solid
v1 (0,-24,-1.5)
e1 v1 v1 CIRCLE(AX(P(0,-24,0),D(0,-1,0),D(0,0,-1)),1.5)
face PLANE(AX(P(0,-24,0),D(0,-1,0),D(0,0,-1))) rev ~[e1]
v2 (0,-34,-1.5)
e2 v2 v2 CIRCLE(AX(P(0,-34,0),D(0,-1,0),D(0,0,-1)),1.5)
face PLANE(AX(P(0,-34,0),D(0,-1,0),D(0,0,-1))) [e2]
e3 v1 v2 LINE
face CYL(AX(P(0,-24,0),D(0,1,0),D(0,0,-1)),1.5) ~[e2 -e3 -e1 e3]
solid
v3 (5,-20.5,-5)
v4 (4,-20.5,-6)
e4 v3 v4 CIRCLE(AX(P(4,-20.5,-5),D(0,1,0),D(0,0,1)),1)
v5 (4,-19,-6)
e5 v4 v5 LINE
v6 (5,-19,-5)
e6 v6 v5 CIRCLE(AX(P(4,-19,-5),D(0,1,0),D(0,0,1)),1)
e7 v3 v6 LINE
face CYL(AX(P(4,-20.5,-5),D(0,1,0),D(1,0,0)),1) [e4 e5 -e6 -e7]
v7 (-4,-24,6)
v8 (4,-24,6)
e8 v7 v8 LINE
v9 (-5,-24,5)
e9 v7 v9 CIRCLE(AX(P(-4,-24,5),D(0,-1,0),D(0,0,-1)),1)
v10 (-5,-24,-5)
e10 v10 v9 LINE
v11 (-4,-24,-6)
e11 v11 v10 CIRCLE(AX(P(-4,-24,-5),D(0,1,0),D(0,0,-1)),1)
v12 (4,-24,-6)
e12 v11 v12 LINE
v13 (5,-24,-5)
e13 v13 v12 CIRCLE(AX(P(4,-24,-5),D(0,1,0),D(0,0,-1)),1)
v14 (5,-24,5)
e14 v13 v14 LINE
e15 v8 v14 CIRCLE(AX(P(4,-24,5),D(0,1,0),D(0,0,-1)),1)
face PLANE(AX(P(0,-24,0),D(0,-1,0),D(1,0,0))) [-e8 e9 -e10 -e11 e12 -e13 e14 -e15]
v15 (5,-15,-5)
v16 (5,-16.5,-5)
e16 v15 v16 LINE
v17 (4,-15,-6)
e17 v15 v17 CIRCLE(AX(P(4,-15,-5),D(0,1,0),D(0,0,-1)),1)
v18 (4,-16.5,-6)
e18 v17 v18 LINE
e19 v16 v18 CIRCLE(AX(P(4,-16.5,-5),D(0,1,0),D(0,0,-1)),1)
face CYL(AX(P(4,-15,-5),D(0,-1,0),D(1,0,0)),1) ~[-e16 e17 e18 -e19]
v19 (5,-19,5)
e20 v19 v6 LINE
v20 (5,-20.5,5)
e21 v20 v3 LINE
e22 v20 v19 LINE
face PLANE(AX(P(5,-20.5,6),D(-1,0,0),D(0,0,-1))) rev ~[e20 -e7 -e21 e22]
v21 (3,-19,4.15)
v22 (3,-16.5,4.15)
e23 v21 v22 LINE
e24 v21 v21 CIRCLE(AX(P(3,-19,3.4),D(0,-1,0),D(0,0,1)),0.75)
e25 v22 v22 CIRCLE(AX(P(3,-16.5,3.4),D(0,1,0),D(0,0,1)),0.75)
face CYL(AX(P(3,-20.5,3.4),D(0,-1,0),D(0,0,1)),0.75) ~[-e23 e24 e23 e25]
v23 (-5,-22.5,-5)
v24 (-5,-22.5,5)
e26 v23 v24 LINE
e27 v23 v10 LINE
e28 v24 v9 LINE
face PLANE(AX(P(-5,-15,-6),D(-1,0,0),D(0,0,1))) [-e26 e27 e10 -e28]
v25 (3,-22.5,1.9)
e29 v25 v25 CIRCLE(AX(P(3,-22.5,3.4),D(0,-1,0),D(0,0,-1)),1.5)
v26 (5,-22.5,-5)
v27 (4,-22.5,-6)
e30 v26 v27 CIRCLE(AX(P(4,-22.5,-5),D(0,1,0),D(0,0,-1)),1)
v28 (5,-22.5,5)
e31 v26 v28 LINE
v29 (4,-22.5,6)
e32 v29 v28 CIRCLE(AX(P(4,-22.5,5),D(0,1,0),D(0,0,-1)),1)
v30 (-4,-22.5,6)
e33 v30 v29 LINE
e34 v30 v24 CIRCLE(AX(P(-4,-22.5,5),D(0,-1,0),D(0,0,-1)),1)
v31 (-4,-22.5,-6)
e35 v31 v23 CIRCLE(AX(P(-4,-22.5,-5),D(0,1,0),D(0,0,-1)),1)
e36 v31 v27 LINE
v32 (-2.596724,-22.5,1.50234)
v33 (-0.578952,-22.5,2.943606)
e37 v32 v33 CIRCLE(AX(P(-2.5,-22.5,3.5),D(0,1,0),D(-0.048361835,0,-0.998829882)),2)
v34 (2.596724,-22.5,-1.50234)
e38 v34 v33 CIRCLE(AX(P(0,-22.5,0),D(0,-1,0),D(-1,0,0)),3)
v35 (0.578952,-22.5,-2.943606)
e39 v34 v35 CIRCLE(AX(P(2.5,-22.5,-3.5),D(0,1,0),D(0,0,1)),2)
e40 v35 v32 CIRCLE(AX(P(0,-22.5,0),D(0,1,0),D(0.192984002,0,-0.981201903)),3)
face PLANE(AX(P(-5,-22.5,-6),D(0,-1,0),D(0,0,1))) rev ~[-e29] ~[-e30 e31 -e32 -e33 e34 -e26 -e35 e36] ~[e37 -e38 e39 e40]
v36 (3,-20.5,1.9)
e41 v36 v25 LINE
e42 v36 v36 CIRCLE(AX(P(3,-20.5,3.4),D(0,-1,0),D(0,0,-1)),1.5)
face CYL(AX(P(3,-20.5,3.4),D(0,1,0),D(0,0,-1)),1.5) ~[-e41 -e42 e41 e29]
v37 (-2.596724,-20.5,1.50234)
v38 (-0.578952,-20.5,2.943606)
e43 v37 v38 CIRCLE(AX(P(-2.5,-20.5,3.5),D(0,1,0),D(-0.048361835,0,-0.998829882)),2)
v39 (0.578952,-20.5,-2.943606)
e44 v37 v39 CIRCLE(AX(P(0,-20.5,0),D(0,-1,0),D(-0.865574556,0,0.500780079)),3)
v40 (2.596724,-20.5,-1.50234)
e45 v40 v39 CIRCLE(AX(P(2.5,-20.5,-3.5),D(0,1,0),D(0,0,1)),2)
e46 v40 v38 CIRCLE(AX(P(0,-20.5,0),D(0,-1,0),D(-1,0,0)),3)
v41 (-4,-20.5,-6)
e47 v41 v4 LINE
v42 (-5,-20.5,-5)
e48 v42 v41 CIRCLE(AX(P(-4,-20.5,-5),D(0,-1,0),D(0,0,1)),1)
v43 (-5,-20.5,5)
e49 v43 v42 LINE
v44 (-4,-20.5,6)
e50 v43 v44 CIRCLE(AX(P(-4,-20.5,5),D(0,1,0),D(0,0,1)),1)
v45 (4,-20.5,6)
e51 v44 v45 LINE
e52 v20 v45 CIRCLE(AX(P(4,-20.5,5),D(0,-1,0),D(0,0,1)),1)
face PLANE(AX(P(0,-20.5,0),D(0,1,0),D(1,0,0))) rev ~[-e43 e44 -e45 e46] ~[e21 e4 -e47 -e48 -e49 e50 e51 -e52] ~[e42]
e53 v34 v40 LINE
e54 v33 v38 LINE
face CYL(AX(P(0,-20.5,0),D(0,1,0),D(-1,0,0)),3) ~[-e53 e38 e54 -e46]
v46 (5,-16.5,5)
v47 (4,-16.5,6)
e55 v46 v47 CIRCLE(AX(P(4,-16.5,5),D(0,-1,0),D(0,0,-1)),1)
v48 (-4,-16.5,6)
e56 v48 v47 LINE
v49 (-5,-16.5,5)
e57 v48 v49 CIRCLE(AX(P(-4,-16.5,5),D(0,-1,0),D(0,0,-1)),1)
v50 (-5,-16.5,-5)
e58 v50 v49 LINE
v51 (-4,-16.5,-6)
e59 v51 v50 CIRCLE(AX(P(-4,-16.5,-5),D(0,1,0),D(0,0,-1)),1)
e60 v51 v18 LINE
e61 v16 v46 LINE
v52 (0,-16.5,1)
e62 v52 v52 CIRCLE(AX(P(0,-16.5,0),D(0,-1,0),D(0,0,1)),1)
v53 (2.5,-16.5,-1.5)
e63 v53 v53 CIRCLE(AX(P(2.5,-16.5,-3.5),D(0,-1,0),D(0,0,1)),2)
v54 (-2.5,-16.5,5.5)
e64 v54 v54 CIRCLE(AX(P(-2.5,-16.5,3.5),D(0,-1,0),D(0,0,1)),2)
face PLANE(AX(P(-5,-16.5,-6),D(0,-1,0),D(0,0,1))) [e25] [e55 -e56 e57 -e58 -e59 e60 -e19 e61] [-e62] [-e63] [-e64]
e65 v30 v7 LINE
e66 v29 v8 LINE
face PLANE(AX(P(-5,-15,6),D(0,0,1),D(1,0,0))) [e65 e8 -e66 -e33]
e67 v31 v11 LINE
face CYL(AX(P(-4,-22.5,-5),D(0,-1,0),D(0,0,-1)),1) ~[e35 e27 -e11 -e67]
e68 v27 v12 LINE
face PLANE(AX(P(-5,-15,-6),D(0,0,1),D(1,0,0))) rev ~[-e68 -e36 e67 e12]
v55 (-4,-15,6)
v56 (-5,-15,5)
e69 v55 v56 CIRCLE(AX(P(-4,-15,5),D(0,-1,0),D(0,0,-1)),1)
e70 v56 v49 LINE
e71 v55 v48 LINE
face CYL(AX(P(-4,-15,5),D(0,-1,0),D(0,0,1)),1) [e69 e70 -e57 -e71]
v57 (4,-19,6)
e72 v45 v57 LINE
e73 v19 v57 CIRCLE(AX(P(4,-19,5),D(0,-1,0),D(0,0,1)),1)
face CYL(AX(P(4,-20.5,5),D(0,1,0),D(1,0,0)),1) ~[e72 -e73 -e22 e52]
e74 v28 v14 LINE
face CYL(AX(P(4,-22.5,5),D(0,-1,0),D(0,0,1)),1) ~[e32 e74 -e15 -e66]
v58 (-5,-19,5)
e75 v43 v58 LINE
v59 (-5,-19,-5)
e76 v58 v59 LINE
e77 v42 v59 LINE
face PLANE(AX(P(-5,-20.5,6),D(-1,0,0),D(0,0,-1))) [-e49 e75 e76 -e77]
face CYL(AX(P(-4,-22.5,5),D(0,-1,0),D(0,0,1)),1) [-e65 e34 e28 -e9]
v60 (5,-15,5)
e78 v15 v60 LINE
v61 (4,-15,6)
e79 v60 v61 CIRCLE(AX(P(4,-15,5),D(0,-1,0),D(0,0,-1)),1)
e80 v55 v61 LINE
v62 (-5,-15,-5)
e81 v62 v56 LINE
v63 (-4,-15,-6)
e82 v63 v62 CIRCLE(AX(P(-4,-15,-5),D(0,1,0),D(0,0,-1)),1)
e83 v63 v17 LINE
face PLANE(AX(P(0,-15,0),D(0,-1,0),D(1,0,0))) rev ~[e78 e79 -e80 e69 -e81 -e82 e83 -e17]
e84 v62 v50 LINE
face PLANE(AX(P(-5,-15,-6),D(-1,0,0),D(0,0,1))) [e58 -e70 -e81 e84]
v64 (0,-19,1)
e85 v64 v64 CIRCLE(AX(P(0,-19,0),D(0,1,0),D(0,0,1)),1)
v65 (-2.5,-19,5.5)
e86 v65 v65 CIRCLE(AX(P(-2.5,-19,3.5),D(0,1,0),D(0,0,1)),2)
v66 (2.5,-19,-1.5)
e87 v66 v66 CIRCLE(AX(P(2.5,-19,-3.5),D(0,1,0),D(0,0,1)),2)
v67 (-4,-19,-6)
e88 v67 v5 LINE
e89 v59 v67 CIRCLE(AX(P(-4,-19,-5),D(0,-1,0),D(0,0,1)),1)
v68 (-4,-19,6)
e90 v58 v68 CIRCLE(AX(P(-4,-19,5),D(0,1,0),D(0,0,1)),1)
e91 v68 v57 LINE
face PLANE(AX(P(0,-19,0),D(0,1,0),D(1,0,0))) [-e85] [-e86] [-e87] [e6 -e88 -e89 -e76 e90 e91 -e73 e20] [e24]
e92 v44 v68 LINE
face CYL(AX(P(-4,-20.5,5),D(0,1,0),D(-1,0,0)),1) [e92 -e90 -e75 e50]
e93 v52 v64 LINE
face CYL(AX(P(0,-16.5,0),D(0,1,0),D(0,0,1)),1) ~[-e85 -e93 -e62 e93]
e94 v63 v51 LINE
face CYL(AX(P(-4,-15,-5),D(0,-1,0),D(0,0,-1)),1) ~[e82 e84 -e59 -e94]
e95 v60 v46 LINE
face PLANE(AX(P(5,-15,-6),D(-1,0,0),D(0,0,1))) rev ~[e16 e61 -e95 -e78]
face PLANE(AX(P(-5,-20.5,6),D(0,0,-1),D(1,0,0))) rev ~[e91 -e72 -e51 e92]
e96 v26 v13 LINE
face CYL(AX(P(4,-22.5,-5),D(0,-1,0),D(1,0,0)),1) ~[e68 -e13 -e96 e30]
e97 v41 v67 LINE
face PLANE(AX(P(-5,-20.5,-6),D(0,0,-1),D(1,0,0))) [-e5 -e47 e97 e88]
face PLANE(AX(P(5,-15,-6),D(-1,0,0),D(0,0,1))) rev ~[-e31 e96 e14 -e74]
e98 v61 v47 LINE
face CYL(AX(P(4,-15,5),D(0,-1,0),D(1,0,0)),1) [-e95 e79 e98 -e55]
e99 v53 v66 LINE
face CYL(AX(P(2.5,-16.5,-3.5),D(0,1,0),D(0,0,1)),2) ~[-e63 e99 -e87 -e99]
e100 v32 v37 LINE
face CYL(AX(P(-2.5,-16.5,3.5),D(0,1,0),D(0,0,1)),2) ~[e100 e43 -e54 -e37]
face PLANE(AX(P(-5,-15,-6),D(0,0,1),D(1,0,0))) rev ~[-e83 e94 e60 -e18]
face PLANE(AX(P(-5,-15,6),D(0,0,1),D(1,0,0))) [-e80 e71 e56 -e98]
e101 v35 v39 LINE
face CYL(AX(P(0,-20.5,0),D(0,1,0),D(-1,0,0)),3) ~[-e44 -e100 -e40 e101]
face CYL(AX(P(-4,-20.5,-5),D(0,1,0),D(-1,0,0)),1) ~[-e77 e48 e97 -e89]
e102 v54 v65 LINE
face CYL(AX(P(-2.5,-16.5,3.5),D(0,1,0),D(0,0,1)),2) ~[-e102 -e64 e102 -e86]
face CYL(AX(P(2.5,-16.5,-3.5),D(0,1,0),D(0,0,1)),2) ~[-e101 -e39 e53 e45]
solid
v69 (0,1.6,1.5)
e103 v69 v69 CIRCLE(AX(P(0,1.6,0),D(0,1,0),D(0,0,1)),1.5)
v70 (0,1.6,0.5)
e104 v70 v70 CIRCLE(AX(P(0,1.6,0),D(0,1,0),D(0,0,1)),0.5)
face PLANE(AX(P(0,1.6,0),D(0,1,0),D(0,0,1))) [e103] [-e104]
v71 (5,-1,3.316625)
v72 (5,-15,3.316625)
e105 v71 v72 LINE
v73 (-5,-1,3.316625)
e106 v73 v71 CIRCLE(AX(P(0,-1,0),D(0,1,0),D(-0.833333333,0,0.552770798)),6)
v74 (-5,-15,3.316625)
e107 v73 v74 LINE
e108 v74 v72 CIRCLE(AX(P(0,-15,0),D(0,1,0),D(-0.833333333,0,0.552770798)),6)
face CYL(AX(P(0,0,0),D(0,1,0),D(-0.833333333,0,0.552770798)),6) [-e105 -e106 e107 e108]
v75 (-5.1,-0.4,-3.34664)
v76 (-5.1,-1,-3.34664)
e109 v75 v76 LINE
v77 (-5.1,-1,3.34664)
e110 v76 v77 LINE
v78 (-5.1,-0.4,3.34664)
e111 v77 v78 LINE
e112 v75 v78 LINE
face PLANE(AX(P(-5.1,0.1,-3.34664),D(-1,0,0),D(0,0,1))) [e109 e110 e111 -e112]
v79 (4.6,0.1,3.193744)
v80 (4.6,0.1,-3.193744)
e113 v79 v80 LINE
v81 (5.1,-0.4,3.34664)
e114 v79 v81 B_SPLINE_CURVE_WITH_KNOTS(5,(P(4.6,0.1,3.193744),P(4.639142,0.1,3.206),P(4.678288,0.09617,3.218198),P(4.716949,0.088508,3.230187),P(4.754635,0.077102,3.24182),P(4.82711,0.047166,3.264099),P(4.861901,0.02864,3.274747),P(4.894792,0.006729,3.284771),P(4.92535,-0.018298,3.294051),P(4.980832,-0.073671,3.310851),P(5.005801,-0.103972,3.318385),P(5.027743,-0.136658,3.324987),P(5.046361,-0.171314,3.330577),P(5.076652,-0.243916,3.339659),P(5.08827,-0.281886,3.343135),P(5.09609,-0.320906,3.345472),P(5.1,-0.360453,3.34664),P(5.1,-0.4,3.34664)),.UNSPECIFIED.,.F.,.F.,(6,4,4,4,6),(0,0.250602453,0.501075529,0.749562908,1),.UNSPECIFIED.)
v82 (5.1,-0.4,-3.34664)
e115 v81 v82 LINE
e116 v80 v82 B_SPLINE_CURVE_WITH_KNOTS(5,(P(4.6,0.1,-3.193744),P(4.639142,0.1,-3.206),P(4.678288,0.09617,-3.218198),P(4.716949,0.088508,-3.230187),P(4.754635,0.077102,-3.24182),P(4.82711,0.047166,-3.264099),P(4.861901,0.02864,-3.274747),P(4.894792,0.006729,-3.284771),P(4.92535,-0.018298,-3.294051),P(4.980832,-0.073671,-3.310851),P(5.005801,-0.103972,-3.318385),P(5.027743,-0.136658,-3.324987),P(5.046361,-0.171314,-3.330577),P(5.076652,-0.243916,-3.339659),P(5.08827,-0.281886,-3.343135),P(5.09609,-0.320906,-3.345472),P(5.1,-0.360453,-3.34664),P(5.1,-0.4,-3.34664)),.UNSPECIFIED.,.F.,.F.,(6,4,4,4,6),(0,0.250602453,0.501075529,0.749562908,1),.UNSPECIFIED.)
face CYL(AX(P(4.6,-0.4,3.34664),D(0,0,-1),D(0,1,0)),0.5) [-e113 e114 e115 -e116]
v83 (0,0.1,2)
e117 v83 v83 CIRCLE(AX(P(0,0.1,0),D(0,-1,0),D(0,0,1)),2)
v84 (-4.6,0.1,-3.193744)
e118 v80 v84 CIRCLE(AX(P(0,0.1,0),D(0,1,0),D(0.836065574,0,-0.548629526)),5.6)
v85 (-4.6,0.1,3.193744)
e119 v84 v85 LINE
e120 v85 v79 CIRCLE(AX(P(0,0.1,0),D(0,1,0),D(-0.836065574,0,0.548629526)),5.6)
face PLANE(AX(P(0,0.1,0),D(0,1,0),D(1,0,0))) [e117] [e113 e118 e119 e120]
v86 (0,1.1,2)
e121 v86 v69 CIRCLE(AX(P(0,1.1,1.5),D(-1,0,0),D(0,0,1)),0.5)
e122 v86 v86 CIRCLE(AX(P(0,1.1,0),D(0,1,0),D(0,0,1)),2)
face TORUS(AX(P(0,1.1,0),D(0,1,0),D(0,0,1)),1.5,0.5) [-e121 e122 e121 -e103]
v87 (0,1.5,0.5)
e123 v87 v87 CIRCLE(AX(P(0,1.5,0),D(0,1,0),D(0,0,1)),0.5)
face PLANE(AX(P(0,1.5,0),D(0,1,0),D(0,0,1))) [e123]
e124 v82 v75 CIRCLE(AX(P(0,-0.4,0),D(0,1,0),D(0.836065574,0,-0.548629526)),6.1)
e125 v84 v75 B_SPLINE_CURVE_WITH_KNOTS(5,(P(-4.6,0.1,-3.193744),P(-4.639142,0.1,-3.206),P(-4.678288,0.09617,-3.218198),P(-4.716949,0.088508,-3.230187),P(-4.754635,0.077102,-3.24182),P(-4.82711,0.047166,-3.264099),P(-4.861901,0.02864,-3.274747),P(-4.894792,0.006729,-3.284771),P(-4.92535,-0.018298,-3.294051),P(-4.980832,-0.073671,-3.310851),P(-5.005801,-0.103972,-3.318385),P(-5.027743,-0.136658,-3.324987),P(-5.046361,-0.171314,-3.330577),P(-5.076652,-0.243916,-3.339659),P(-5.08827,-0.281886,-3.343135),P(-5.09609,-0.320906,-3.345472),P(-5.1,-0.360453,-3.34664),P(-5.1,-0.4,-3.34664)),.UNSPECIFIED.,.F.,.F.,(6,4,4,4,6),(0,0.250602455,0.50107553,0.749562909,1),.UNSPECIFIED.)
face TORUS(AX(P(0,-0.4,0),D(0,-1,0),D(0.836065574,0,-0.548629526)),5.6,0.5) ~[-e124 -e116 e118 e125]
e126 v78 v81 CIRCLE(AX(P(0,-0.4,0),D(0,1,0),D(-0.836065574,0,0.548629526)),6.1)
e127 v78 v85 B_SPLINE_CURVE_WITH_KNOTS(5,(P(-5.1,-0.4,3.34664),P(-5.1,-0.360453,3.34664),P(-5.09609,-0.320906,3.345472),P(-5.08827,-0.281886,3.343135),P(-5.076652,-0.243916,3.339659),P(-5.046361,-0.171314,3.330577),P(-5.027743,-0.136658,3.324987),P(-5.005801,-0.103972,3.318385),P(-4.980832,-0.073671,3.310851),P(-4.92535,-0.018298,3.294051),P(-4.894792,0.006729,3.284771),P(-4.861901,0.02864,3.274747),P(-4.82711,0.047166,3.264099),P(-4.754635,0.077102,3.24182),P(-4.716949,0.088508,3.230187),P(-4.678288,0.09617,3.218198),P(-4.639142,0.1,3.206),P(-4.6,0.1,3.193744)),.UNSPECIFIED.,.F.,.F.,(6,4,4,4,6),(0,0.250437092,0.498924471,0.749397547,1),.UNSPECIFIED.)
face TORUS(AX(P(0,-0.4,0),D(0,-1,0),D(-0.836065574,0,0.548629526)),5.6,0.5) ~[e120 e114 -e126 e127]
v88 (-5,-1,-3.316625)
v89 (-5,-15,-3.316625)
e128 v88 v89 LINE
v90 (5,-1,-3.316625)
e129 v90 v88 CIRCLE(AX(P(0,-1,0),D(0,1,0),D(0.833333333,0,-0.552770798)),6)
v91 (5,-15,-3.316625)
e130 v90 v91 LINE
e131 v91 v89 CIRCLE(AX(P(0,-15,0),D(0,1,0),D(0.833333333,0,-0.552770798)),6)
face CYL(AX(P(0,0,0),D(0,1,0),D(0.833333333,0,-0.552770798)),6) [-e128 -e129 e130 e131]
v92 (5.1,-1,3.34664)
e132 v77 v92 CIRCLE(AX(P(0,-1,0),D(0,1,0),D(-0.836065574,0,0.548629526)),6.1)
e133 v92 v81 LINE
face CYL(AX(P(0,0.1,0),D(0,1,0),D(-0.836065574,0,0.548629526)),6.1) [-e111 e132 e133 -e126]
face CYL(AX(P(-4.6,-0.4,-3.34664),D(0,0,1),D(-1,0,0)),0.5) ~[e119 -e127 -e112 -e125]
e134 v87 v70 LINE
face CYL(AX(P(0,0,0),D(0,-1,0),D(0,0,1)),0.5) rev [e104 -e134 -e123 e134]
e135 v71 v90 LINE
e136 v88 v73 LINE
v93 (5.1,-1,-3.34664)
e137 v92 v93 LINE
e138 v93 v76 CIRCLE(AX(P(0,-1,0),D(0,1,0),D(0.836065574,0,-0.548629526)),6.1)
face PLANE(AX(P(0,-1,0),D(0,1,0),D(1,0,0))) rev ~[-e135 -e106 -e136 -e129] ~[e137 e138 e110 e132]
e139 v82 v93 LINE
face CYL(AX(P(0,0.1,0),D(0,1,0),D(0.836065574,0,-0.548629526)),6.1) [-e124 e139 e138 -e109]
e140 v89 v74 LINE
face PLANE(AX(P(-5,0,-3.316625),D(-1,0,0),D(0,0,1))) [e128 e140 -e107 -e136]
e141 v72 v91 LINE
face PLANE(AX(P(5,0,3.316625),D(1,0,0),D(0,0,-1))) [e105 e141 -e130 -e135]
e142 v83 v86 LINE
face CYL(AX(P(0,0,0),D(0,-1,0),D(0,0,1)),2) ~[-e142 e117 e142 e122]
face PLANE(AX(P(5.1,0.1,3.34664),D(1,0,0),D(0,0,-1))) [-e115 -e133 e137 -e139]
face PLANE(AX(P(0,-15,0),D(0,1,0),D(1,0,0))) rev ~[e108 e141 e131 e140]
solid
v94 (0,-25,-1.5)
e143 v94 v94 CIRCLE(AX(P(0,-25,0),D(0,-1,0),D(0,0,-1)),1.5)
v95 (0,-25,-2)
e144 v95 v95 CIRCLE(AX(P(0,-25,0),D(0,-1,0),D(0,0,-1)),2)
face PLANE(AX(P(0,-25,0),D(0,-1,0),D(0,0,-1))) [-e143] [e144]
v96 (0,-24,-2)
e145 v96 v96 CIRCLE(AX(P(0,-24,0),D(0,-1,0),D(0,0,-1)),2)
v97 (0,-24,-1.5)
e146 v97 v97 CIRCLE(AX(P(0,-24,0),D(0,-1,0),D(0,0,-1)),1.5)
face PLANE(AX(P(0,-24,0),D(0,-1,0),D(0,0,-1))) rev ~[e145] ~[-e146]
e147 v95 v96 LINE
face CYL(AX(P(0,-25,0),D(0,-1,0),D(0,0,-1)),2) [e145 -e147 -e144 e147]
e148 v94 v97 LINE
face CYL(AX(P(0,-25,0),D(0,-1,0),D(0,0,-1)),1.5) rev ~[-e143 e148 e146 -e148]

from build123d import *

# Parameters (mm, degrees)
EXTRUDE_1_DEPTH     = 15
SKETCH_2_R          = 2
SKETCH_2_R_2        = 0.5
EXTRUDE_2_DEPTH     = 1.6
SKETCH_3_R          = 0.5
EXTRUDE_3_DEPTH     = 1.5
SKETCH_4_W          = 10
SKETCH_4_H          = 12
EXTRUDE_4_DEPTH     = 9
SKETCH_5_R          = 1.5
EXTRUDE_5_DEPTH     = 10
EXTRUDE_START       = 1
SKETCH_6_R          = 2
SKETCH_6_R_2        = 1.5
EXTRUDE_6_DEPTH     = 1
SKETCH_7_W          = 12
SKETCH_7_H          = 6
CUT_EXTRUDE_1_DEPTH = 20
SKETCH_8_R          = 1
SKETCH_8_R_2        = 2
EXTRUDE_7_DEPTH     = 7
SKETCH_10_R         = 3
SKETCH_10_R_2       = 1.5
EXTRUDE_8_DEPTH     = 2
SKETCH_11_R         = 0.75
EXTRUDE_9_DEPTH     = 4
EXTRUDE_10_DEPTH    = 1
EXTRUDE_START_2     = 0.1
EXTRUDE_11_DEPTH    = 0.1
FILLET_1_R          = 0.5
FILLET_2_R          = 0.5
SKETCH_14_W         = 10
SKETCH_14_H         = 12
EXTRUDE_12_DEPTH    = 1.5
FILLET_3_R          = 1


with BuildPart() as part:
    # 草图1 → 凸台-拉伸1 (new body)
    with BuildSketch(Plane(origin=(0, 0, 0), x_dir=(1, 0, 0), z_dir=(0, 1, 0))):
        with BuildLine():
            Line((-5, 3.31662479), (-5, -3.31662479))
            ThreePointArc((-5, -3.31662479), (0, -6), (5, -3.31662479))
            Line((5, -3.31662479), (5, 3.31662479))
            ThreePointArc((5, 3.31662479), (0, 6), (-5, 3.31662479))
        make_face()
    extrude(amount=-EXTRUDE_1_DEPTH)

    # 草图2 → 凸台-拉伸2 (add)
    with BuildSketch(Plane(origin=(0, 0, 0), x_dir=(1, 0, 0), z_dir=(0, 1, 0))):
        with Locations(Location((0, 0, 0), (0, 0, 270))):
            Circle(SKETCH_2_R)
        with Locations(Location((0, 0, 0), (0, 0, 270))):
            Circle(SKETCH_2_R_2, mode=Mode.SUBTRACT)
    extrude(amount=EXTRUDE_2_DEPTH)

    # 草图3 → 凸台-拉伸3 (add)
    with BuildSketch(Plane(origin=(0, 0, 0), x_dir=(1, 0, 0), z_dir=(0, 1, 0))):
        with Locations(Location((0, 0, 0), (0, 0, 270))):
            Circle(SKETCH_3_R)
    extrude(amount=EXTRUDE_3_DEPTH)

    # 草图12 → 凸台-拉伸10 (add)
    with BuildSketch(Plane(origin=(0, 0, 0), x_dir=(1, 0, 0), z_dir=(0, 1, 0))):
        with BuildLine():
            Line((-5.1, 3.346640106), (-5.1, -3.346640106))
            ThreePointArc((-5.1, -3.346640106), (0, -6.1), (5.1, -3.346640106))
            Line((5.1, -3.346640106), (5.1, 3.346640106))
            ThreePointArc((5.1, 3.346640106), (0, 6.1), (-5.1, 3.346640106))
        make_face()
        with BuildLine():
            Line((-5, 3.31662479), (-5, -3.31662479))
            ThreePointArc((-5, -3.31662479), (0, -6), (5, -3.31662479))
            Line((5, -3.31662479), (5, 3.31662479))
            ThreePointArc((5, 3.31662479), (0, 6), (-5, 3.31662479))
        make_face(mode=Mode.SUBTRACT)
    extrude(amount=-EXTRUDE_10_DEPTH)

    # 草图13 → 凸台-拉伸11 (add)
    with BuildSketch(Plane(origin=(0, 0, 0), x_dir=(1, 0, 0), z_dir=(0, 1, 0)).offset(EXTRUDE_START_2)):
        with BuildLine():
            Line((-5.1, 3.346640106), (-5.1, -3.346640106))
            ThreePointArc((-5.1, -3.346640106), (0, -6.1), (5.1, -3.346640106))
            Line((5.1, -3.346640106), (5.1, 3.346640106))
            ThreePointArc((5.1, 3.346640106), (0, 6.1), (-5.1, 3.346640106))
        make_face()
    extrude(amount=-EXTRUDE_11_DEPTH)

    # 圆角1
    fillet_1_edges = [part.edges().sort_by_distance(p)[0] for p in [
        (0, 0.1, -6.1),
        (-5.1, 0.1, 0),
        (0, 0.1, 6.1),
        (5.1, 0.1, 0),
    ]]
    fillet(fillet_1_edges, radius=FILLET_1_R)

    # 圆角2
    fillet_2_edges = [part.edges().sort_by_distance(p)[0] for p in [
        (0, 1.6, -2),
    ]]
    fillet(fillet_2_edges, radius=FILLET_2_R)


with BuildPart() as body_2:
    # 草图4 → 凸台-拉伸4 (new body)
    with BuildSketch(Plane.XZ.offset(15)):
        Rectangle(SKETCH_4_W, SKETCH_4_H)
    extrude(amount=EXTRUDE_4_DEPTH)

    # 草图7 → 切除-拉伸1 (cut)
    with BuildSketch(Plane.ZY.offset(5)):
        with Locations((0, -19.5)):
            Rectangle(SKETCH_7_W, SKETCH_7_H)
    extrude(amount=-CUT_EXTRUDE_1_DEPTH, mode=Mode.SUBTRACT)


with BuildPart() as body_3:
    # 草图5 → 凸台-拉伸5 (new body)
    with BuildSketch(Plane.XZ.offset(24)):
        with Locations(Location((0, 0, 0), (0, 0, 270))):
            Circle(SKETCH_5_R)
    extrude(amount=EXTRUDE_5_DEPTH)


with BuildPart() as body_4:
    # 草图6 → 凸台-拉伸6 (new body)
    with BuildSketch(Plane.XZ.offset(24).offset(EXTRUDE_START)):
        with Locations(Location((0, 0, 0), (0, 0, 270))):
            Circle(SKETCH_6_R)
        with Locations(Location((0, 0, 0), (0, 0, 270))):
            Circle(SKETCH_6_R_2, mode=Mode.SUBTRACT)
    extrude(amount=-EXTRUDE_6_DEPTH)


with BuildPart() as cut_extrude_1_piece_1:
    # of the separate pieces the step leaves, piece 1, a body of its own (cut_extrude_1_pieces)
    add(body_2.part.solids().sort_by_distance((5, -15, -6))[0])

    # 草图8 → 凸台-拉伸7 (add)
    with BuildSketch(Plane.XZ.offset(16.5)):
        with Locations(Location((0, 0, 0), (0, 0, 90))):
            Circle(SKETCH_8_R)
        with Locations(Location((2.5, -3.5, 0), (0, 0, 90))):
            Circle(SKETCH_8_R_2)
        with Locations(Location((-2.5, 3.5, 0), (0, 0, 90))):
            Circle(SKETCH_8_R_2)
    extrude(amount=EXTRUDE_7_DEPTH)



with BuildPart() as cut_extrude_1_piece_2:
    # of the separate pieces the step leaves, piece 2, a body of its own (cut_extrude_1_pieces)
    add(body_2.part.solids().sort_by_distance((-5, -22.5, -6))[0])


with BuildPart() as cut_extrude_1_piece_1_1:
    add(cut_extrude_1_piece_1.part)

    add(cut_extrude_1_piece_2.part)  # 凸台-拉伸8 merges 切除-拉伸1 piece 2
    # 草图10 → 凸台-拉伸8 (add)
    with BuildSketch(Plane(origin=(0, -20.5, 0), x_dir=(-1, 0, 0), z_dir=(0, -1, 0))):
        Circle(SKETCH_10_R)
        with Locations(Location((-3, -3.4, 0), (0, 0, 90))):
            Circle(SKETCH_10_R_2)
    extrude(amount=EXTRUDE_8_DEPTH)

    # 草图11 → 凸台-拉伸9 (add)
    with BuildSketch(Plane(origin=(0, -20.5, 0), x_dir=(1, 0, 0), z_dir=(0, 1, 0))):
        with Locations(Location((3, -3.4, 0), (0, 0, 270))):
            Circle(SKETCH_11_R)
    extrude(amount=EXTRUDE_9_DEPTH)

    # 草图14 → 凸台-拉伸12 (add)
    with BuildSketch(Plane(origin=(0, -20.5, 0), x_dir=(1, 0, 0), z_dir=(0, 1, 0))):
        Rectangle(SKETCH_14_W, SKETCH_14_H)
    extrude(amount=EXTRUDE_12_DEPTH)

    # 圆角3
    fillet_3_edges = [cut_extrude_1_piece_1_1.edges().sort_by_distance(p)[0] for p in [
        (-5, -15.75, 6),
        (-5, -15.75, -6),
        (5, -15.75, -6),
        (5, -15.75, 6),
        (-5, -23.25, 6),
        (5, -23.25, 6),
        (5, -23.25, -6),
        (-5, -23.25, -6),
        (5, -19.75, 6),
        (5, -19.75, -6),
        (-5, -19.75, -6),
        (-5, -19.75, 6),
    ]]
    fillet(fillet_3_edges, radius=FILLET_3_R)


solid = Compound([part.part, body_3.part, body_4.part, cut_extrude_1_piece_1_1.part])
